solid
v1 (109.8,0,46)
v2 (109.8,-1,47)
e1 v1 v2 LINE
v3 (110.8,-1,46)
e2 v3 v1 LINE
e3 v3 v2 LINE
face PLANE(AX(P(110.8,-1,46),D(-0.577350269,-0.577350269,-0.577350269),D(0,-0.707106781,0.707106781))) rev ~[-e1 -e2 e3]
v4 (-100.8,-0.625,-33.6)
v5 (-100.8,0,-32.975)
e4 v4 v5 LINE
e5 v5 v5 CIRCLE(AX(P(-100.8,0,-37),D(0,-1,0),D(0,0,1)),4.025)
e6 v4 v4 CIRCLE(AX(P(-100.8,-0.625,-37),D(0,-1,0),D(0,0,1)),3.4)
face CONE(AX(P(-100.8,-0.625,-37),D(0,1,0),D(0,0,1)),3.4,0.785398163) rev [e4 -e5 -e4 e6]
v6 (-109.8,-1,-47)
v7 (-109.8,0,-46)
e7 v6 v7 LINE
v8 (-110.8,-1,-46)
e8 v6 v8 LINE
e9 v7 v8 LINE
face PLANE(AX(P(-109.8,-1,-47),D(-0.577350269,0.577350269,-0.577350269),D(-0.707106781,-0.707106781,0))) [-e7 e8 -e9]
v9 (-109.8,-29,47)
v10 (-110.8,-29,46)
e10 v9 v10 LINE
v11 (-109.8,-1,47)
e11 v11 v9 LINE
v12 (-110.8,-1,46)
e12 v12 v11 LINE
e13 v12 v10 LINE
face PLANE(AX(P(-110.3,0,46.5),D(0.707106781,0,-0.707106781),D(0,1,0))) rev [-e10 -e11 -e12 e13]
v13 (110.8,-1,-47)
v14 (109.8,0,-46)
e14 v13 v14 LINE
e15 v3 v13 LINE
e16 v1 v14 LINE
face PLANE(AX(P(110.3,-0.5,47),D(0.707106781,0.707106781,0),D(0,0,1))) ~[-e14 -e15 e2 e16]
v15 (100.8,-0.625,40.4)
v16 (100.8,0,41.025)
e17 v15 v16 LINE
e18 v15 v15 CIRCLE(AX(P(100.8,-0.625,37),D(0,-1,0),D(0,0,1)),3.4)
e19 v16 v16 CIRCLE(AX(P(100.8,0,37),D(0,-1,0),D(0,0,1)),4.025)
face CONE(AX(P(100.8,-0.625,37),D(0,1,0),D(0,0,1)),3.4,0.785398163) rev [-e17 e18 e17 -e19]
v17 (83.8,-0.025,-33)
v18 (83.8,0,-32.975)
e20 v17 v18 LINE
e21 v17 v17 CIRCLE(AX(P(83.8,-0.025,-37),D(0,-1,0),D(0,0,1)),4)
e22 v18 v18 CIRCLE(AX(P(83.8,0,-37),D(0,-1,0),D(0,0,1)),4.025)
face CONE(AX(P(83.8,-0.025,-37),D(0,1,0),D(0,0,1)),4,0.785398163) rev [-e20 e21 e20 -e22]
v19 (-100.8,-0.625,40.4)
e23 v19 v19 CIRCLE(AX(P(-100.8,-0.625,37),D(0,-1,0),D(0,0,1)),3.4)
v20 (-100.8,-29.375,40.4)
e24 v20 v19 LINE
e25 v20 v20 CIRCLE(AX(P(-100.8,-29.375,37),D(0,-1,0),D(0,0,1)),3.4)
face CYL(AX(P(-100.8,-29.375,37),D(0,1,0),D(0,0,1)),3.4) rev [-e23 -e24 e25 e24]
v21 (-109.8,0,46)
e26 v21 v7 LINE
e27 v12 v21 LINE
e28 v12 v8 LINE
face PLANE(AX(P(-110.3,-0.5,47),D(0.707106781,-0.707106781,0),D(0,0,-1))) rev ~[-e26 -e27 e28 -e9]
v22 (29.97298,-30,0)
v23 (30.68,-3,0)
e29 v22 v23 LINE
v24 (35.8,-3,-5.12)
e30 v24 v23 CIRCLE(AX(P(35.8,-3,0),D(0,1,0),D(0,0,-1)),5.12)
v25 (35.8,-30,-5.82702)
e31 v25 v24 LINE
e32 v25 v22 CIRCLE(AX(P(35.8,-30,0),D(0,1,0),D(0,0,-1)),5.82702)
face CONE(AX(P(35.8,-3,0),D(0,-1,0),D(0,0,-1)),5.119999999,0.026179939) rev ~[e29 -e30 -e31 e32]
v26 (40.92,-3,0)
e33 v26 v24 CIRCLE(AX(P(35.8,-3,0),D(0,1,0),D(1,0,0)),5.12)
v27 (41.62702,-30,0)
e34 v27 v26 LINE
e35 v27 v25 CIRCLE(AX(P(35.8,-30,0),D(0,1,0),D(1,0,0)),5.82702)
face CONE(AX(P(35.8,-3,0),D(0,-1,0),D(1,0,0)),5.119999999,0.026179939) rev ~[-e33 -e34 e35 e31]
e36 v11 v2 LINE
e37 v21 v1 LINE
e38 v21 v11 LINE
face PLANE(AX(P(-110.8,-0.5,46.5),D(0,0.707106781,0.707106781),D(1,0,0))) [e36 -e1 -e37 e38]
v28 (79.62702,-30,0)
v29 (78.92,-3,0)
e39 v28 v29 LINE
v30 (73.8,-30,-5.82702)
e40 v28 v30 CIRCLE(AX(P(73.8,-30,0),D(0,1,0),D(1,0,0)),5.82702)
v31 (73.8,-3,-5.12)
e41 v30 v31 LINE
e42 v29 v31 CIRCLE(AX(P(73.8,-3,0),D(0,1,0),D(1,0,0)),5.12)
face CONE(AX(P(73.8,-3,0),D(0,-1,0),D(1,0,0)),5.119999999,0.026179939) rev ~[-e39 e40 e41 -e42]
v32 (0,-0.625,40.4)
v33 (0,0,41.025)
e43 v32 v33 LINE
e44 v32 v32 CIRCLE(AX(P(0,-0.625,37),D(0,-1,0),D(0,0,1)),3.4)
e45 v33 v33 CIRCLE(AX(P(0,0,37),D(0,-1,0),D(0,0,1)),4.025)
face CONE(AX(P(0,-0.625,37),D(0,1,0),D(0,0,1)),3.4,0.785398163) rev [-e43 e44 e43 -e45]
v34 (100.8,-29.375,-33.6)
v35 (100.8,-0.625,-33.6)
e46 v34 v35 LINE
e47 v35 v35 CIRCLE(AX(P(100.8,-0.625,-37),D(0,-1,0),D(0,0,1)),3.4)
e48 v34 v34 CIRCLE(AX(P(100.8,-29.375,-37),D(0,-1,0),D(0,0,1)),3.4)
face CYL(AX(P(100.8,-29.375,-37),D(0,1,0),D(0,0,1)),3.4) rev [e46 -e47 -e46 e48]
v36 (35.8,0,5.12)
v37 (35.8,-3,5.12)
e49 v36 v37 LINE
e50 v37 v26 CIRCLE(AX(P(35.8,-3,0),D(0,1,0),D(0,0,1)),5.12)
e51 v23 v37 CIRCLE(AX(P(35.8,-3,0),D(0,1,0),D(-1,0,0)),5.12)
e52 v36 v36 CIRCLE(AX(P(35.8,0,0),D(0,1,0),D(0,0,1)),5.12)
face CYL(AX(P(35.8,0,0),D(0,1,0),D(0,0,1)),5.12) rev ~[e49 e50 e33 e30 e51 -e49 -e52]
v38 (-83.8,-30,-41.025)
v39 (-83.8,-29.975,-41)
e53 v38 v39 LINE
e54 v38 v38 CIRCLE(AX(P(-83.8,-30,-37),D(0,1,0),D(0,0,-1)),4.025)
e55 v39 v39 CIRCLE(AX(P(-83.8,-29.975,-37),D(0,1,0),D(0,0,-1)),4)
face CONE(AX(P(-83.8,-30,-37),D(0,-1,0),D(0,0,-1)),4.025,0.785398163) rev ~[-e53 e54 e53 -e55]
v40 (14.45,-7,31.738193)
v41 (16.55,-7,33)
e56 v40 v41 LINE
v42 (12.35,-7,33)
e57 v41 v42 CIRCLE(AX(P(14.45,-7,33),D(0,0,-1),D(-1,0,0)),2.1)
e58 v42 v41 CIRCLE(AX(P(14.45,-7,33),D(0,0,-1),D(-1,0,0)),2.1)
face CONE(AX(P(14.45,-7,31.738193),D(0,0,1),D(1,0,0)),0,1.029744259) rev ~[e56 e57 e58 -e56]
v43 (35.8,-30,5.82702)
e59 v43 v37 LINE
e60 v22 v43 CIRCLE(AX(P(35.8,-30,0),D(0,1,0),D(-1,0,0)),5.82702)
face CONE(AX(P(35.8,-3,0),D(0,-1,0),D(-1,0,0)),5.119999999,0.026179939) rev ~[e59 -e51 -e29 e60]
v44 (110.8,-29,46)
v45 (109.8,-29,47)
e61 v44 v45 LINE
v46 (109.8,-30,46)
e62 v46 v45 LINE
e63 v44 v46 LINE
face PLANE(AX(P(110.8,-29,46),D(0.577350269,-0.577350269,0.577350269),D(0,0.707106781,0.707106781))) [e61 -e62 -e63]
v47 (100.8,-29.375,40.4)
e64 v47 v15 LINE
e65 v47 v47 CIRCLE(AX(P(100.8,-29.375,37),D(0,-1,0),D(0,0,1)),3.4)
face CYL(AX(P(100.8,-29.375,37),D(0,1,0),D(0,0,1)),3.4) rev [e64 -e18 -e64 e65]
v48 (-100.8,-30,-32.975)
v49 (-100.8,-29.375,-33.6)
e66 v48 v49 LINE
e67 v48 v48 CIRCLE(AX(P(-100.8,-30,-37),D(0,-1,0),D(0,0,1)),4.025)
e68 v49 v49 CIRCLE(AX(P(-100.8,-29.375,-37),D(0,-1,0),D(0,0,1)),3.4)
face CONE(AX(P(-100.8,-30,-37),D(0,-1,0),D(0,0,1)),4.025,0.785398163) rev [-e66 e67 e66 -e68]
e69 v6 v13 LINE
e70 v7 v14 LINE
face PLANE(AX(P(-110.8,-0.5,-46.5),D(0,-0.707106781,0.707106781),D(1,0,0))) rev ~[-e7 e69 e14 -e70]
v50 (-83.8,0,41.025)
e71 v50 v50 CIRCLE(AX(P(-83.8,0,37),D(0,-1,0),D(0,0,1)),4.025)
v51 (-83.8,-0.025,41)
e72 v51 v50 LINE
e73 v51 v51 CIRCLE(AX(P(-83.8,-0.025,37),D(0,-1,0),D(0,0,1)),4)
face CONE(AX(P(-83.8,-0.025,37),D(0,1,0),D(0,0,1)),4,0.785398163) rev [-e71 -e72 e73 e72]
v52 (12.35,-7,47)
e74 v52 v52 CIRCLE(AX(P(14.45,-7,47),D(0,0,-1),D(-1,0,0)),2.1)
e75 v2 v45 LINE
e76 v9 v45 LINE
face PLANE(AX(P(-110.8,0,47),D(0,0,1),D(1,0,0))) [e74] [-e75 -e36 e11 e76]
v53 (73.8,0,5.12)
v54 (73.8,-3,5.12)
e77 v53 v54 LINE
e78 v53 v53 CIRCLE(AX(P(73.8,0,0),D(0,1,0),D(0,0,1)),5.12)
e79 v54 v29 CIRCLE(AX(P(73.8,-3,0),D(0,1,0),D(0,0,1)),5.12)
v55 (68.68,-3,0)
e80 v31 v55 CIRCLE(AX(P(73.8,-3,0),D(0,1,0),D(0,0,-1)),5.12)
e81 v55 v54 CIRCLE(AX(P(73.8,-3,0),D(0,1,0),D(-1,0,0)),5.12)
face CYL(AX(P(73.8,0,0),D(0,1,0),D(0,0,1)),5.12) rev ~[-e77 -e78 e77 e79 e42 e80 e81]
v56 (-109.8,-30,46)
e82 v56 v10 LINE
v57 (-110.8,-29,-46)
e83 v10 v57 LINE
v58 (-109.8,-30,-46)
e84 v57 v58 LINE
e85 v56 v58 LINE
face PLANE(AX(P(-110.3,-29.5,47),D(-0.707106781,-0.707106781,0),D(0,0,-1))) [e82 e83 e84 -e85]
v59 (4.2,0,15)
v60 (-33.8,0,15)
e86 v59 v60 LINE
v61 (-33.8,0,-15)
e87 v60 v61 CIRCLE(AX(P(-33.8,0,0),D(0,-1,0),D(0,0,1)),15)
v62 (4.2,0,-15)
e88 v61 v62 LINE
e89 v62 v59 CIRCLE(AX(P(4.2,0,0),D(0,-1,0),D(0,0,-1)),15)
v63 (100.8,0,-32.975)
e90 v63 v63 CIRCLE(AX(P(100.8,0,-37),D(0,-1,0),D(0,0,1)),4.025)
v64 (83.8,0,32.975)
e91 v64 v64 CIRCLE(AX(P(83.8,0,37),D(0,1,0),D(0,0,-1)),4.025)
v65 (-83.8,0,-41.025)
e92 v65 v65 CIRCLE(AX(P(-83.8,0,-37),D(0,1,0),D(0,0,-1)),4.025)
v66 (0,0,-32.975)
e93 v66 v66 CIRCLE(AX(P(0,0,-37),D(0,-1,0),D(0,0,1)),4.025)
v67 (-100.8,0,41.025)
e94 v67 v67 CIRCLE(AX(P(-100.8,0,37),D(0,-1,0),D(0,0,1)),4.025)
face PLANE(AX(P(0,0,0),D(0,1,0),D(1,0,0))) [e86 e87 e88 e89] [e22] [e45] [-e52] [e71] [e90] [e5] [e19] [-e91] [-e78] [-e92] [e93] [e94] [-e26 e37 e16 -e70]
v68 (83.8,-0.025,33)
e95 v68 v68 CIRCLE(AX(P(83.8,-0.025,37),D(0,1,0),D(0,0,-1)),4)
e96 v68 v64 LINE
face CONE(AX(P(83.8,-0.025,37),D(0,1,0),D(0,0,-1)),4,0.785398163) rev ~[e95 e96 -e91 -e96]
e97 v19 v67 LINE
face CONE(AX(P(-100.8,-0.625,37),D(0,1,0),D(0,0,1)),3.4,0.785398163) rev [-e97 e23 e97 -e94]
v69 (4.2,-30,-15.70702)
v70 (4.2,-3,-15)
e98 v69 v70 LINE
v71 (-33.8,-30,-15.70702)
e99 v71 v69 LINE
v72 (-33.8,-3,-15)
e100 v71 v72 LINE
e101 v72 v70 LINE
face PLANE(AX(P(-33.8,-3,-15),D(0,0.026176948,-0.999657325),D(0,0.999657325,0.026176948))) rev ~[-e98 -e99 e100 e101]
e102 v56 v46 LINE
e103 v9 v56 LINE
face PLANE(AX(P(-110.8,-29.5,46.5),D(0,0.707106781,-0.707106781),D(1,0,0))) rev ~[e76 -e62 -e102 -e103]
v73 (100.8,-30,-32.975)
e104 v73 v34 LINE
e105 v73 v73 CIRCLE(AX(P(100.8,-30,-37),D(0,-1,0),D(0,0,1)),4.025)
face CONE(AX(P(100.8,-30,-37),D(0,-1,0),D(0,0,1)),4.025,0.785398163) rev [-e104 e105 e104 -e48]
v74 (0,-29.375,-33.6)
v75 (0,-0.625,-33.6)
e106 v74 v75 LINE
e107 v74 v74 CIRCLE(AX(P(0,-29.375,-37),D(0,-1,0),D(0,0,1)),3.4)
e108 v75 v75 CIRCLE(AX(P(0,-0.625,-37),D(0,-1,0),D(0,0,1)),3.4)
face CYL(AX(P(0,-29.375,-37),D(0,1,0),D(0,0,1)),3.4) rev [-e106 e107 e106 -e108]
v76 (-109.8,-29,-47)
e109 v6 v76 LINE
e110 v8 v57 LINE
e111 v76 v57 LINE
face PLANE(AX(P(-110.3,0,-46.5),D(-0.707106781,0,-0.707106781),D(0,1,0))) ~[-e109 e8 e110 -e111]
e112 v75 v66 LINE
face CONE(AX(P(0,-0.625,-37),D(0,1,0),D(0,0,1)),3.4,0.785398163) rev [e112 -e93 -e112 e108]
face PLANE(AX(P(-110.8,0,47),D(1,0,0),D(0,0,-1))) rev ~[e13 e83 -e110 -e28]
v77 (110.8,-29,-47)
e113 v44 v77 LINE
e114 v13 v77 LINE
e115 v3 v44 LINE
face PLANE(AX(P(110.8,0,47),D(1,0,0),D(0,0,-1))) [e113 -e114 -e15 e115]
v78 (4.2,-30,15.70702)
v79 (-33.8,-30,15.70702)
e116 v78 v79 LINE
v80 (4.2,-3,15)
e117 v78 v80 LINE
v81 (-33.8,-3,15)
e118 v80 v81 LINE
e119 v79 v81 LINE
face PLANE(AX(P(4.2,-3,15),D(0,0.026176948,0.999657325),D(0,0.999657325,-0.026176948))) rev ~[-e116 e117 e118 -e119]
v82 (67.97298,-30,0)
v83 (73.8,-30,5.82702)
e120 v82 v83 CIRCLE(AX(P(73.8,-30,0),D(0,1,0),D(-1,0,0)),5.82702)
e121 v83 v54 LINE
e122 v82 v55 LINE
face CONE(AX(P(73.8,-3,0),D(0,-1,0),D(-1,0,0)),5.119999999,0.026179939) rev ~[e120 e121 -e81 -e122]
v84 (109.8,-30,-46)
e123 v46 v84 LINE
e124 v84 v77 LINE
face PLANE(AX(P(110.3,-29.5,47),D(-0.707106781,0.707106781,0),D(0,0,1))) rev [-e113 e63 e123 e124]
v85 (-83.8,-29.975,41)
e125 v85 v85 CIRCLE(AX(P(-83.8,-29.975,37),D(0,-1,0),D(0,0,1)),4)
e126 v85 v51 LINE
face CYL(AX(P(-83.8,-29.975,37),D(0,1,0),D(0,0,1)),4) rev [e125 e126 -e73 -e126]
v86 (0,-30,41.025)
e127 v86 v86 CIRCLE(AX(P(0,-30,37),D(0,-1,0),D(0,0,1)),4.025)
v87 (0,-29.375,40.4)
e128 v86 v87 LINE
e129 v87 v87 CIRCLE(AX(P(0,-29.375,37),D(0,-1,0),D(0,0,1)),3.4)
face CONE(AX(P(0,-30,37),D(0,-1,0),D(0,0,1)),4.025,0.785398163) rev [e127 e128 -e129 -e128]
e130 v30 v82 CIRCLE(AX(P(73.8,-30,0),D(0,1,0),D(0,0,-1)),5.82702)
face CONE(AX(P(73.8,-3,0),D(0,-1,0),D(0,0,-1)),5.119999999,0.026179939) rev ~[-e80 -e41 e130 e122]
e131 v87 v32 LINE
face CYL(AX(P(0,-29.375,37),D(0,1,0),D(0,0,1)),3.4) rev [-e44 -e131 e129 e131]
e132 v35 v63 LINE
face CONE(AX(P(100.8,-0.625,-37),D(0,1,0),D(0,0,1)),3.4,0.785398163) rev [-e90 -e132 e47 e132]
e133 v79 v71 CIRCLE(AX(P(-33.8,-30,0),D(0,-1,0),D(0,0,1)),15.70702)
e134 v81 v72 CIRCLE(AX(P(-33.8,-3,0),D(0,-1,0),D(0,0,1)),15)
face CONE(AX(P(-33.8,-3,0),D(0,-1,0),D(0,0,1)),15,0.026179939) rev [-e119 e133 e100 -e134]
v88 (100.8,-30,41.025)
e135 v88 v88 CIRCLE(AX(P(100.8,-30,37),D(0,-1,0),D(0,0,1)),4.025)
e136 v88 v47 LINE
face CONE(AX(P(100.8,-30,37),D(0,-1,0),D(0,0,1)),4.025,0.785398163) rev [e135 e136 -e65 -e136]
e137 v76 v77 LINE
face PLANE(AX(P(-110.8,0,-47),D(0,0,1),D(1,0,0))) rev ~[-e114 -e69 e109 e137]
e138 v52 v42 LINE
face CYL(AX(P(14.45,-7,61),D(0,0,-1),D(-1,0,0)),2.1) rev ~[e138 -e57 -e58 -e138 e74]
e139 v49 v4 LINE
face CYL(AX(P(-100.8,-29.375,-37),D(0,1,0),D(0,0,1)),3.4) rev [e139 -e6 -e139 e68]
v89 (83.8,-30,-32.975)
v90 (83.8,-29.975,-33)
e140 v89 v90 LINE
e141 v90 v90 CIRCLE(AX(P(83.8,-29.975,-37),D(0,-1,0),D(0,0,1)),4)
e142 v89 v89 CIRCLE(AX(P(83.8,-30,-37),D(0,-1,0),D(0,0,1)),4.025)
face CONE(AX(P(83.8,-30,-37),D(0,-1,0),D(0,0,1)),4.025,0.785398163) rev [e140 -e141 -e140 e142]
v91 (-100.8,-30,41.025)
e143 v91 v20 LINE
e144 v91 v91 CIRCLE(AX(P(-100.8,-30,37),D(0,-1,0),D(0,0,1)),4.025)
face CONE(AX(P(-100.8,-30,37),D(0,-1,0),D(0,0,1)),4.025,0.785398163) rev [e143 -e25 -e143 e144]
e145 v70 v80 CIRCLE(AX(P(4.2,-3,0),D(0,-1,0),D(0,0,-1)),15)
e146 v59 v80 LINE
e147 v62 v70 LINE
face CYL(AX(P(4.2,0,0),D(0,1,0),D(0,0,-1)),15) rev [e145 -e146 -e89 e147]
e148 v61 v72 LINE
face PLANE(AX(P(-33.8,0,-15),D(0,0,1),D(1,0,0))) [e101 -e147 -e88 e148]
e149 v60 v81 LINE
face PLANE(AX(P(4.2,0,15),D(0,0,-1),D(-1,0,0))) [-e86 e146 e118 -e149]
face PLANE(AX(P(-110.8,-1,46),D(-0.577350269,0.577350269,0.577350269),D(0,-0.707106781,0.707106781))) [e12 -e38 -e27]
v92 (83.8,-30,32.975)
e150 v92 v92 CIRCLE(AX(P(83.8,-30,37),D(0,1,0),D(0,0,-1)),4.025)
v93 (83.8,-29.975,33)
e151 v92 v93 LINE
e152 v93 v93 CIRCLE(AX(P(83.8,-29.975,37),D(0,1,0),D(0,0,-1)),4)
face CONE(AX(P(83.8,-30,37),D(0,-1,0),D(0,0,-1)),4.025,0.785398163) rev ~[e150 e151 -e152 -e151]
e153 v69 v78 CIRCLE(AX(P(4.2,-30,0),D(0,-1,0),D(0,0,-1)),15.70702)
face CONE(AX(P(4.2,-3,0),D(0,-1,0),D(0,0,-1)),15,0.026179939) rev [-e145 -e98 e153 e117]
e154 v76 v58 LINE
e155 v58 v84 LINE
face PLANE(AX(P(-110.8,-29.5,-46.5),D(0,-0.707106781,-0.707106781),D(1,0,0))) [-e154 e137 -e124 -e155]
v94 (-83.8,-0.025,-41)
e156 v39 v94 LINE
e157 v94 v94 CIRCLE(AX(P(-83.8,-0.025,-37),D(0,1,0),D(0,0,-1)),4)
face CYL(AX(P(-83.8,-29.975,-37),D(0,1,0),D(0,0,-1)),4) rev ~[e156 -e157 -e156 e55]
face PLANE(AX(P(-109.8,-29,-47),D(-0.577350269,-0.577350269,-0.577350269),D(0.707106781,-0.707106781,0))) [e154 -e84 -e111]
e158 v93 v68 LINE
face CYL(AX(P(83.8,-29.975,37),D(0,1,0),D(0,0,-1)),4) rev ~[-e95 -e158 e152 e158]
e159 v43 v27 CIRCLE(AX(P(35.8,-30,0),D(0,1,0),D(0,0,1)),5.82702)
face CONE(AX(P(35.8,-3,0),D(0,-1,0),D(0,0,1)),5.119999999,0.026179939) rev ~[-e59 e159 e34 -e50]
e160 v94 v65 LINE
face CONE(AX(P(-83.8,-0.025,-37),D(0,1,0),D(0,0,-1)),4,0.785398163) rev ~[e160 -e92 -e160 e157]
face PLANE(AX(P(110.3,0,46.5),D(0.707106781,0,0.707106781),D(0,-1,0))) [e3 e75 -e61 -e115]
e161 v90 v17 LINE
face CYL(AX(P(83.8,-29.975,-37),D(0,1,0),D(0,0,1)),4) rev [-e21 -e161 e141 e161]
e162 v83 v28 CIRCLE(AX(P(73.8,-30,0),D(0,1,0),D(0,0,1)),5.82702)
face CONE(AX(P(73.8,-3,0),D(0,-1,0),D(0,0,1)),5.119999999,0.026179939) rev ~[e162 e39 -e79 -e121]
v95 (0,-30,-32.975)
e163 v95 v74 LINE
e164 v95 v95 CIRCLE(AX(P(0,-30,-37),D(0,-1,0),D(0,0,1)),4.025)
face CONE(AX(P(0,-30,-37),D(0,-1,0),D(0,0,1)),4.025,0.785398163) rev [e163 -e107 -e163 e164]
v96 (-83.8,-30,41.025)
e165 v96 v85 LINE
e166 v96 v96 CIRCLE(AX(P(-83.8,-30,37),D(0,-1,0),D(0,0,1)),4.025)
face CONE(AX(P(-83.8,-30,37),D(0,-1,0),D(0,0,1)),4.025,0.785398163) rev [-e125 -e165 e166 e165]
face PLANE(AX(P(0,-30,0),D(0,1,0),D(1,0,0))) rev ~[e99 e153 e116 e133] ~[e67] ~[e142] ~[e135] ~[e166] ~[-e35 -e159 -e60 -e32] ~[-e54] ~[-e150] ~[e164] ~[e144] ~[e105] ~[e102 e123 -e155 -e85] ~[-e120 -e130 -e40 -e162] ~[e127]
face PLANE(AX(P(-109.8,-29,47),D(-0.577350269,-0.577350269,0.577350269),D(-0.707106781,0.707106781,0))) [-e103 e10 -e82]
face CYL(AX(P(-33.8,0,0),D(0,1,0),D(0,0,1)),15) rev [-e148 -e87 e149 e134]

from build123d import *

# Parameters (mm, degrees)
SKETCH1_W                      = 221.6
SKETCH1_H                      = 94
BOSS_EXTRUDE1_DEPTH            = 30
SKETCH2_R                      = 5.12
CUT_EXTRUDE1_DEPTH             = 125.038864877
CHAMFER1_SIZE                  = 1
M5_TAPPED_HOLE1_D              = 4.2
M5_TAPPED_HOLE1_DEPTH          = 14
M5_TAPPED_HOLE1_TIP            = 1.2618073
M8_TAPPED_HOLE1_AT_2_COUNT     = 2
M8_TAPPED_HOLE1_AT_2_PITCH     = 74
M8_TAPPED_HOLE1_AT_3_COUNT     = 2
M8_TAPPED_HOLE1_AT_3_PITCH     = 214.752322455
M8_TAPPED_HOLE1_AT_4_COUNT     = 2
M8_TAPPED_HOLE1_AT_4_PITCH     = 201.6
M8_TAPPED_HOLE1_AT_5_COUNT     = 2
M8_TAPPED_HOLE1_AT_5_PITCH     = 100.8
M8_TAPPED_HOLE1_AT_6_COUNT     = 2
M8_TAPPED_HOLE1_AT_6_PITCH     = 125.046551332
F_8_0MM_DOWEL_HOLE1_AT_2_COUNT = 2
F_8_0MM_DOWEL_HOLE1_AT_2_PITCH = 183.209606735


with BuildPart() as part:
    # Sketch1 → Boss-Extrude1 (new body)
    with BuildSketch(Plane(origin=(0, 0, 0), x_dir=(1, 0, 0), z_dir=(0, 1, 0))):
        Rectangle(SKETCH1_W, SKETCH1_H)
    extrude(amount=-BOSS_EXTRUDE1_DEPTH)

    # Sketch2 → Cut-Extrude1 (cut, through all)
    with BuildSketch(Plane(origin=(0, 0, 0), x_dir=(1, 0, 0), z_dir=(0, 1, 0))):
        with Locations(Location((35.8, 0, 0), (0, 0, 270))):
            Circle(SKETCH2_R)
        with Locations(Location((73.8, 0, 0), (0, 0, 270))):
            Circle(SKETCH2_R)
        with BuildLine():
            Line((-33.8, 15), (4.2, 15))
            ThreePointArc((4.2, 15), (19.2, 0), (4.2, -15))
            Line((4.2, -15), (-33.8, -15))
            ThreePointArc((-33.8, -15), (-48.8, 0), (-33.8, 15))
        make_face()
    extrude(amount=-CUT_EXTRUDE1_DEPTH, mode=Mode.SUBTRACT)

    # Cut-Sweep1: sweep along a curve in space
    with BuildLine() as cut_sweep1_path:
        ThreePointArc((-33.8, 0, 15), (-48.8, 0, 0), (-33.8, 0, -15))
        Line((-33.8, 0, -15), (4.2, 0, -15))
        ThreePointArc((4.2, 0, -15), (19.2, 0, 0), (4.2, 0, 15))
        Line((4.2, 0, 15), (-33.8, 0, 15))
    # Sketch3 → Cut-Sweep1 (sweep, cut)
    with BuildSketch(Plane(origin=(-14.8, 0, 0), x_dir=(0, 0, -1), z_dir=(1, 0, 0))):
        Polygon((15, -3), (15.707019882, -30), (15, -30), align=None)
    sweep(path=cut_sweep1_path.line, mode=Mode.SUBTRACT)

    # Cut-Sweep2: sweep along a curve in space
    with BuildLine() as cut_sweep2_path:
        ThreePointArc((35.8, 0, 5.12), (39.42038672, 0, 3.62038672), (40.92, 0, 0))
        ThreePointArc((40.92, 0, 0), (39.42038672, 0, -3.62038672), (35.8, 0, -5.12))
        ThreePointArc((35.8, 0, -5.12), (32.17961328, 0, -3.62038672), (30.68, 0, 0))
        ThreePointArc((30.68, 0, 0), (32.17961328, 0, 3.62038672), (35.8, 0, 5.12))
    # Sketch5 → Cut-Sweep2 (sweep, cut)
    with BuildSketch(Plane.XY):
        Polygon((40.92, -3), (41.627019882, -30), (40.92, -30), align=None)
    sweep(path=cut_sweep2_path.line, mode=Mode.SUBTRACT)

    # Cut-Sweep3: sweep along a curve in space
    with BuildLine() as cut_sweep3_path:
        ThreePointArc((73.8, 0, 5.12), (77.42038672, 0, 3.62038672), (78.92, 0, 0))
        ThreePointArc((78.92, 0, 0), (77.42038672, 0, -3.62038672), (73.8, 0, -5.12))
        ThreePointArc((73.8, 0, -5.12), (70.17961328, 0, -3.62038672), (68.68, 0, 0))
        ThreePointArc((68.68, 0, 0), (70.17961328, 0, 3.62038672), (73.8, 0, 5.12))
    # Sketch9 → Cut-Sweep3 (sweep, cut)
    with BuildSketch(Plane.XY):
        Polygon((78.92, -3), (79.627019882, -30), (78.92, -30), align=None)
    sweep(path=cut_sweep3_path.line, mode=Mode.SUBTRACT)

    # Chamfer1
    chamfer1_edges = [part.edges().sort_by_distance(p)[0] for p in [
        (-110.8, -30, 0),
        (0, -30, 47),
        (110.8, -30, 0),
        (0, 0, 47),
        (-110.8, 0, 0),
        (0, 0, -47),
        (110.8, 0, 0),
        (110.8, -15, 47),
        (-110.8, -15, 47),
        (-110.8, -15, -47),
        (0, -30, -47),
    ]]
    chamfer(chamfer1_edges, length=CHAMFER1_SIZE)

    # M5 Tapped Hole1
    with Locations(Plane.XY.offset(47)):
        with Locations((14.45, -7)):
            Hole(M5_TAPPED_HOLE1_D / 2, depth=M5_TAPPED_HOLE1_DEPTH)
            with Locations((0, 0, -(M5_TAPPED_HOLE1_DEPTH + M5_TAPPED_HOLE1_TIP / 2))):  # 118° drill point
                Cone(0, M5_TAPPED_HOLE1_D / 2, M5_TAPPED_HOLE1_TIP, mode=Mode.SUBTRACT)

    # Sketch15 → M8 Tapped Hole1 (revolve, cut)
    with BuildSketch(Plane(origin=(-100.8, 0, 37), x_dir=(0, 0, 1), z_dir=(1, 0, 0))):
        Polygon((0, 0), (0, 30), (4.025, 30), (3.4, 29.375), (3.4, 0.625), (4.025, 0), align=None)
    m8_tapped_hole1 = revolve(axis=Axis((-100.8, 6.35, 37), (0, -1, 0)), mode=Mode.SUBTRACT)

    # M8 Tapped Hole1 at 2: M8 Tapped Hole1 ×2
    with Locations(*[(0, 0, -i * M8_TAPPED_HOLE1_AT_2_PITCH) for i in range(1, M8_TAPPED_HOLE1_AT_2_COUNT)]):
        add(m8_tapped_hole1, mode=Mode.SUBTRACT)

    # M8 Tapped Hole1 at 3: M8 Tapped Hole1 ×2
    with Locations(*[Vector(0.9387558546280332, 0, -0.34458300219481375) * (i * M8_TAPPED_HOLE1_AT_3_PITCH) for i in range(1, M8_TAPPED_HOLE1_AT_3_COUNT)]):
        add(m8_tapped_hole1, mode=Mode.SUBTRACT)

    # M8 Tapped Hole1 at 4: M8 Tapped Hole1 ×2
    with Locations(*[(i * M8_TAPPED_HOLE1_AT_4_PITCH, 0, 0) for i in range(1, M8_TAPPED_HOLE1_AT_4_COUNT)]):
        add(m8_tapped_hole1, mode=Mode.SUBTRACT)

    # M8 Tapped Hole1 at 5: M8 Tapped Hole1 ×2
    with Locations(*[(i * M8_TAPPED_HOLE1_AT_5_PITCH, 0, 0) for i in range(1, M8_TAPPED_HOLE1_AT_5_COUNT)]):
        add(m8_tapped_hole1, mode=Mode.SUBTRACT)

    # M8 Tapped Hole1 at 6: M8 Tapped Hole1 ×2
    with Locations(*[Vector(0.8060997998454218, 0, -0.591779614965885) * (i * M8_TAPPED_HOLE1_AT_6_PITCH) for i in range(1, M8_TAPPED_HOLE1_AT_6_COUNT)]):
        add(m8_tapped_hole1, mode=Mode.SUBTRACT)

    # Sketch17 → Ø8.0mm Dowel Hole1 (revolve, cut)
    with BuildSketch(Plane(origin=(-83.8, 0, 37), x_dir=(0, 0, 1), z_dir=(1, 0, 0))):
        Polygon((0, 0), (0, 30), (4.025, 30), (4, 29.975), (4, 0.025), (4.025, 0), align=None)
    f_8_0mm_dowel_hole1 = revolve(axis=Axis((-83.8, 6.35, 37), (0, -1, 0)), mode=Mode.SUBTRACT)

    # Ø8.0mm Dowel Hole1 at 2: Ø8.0mm Dowel Hole1 ×2
    with Locations(*[Vector(0.9147991908656035, 0, -0.40390895062085114) * (i * F_8_0MM_DOWEL_HOLE1_AT_2_PITCH) for i in range(1, F_8_0MM_DOWEL_HOLE1_AT_2_COUNT)]):
        add(f_8_0mm_dowel_hole1, mode=Mode.SUBTRACT)

    # Mirror1: Ø8.0mm Dowel Hole1 across plane
    add(f_8_0mm_dowel_hole1.mirror(Plane.XY), mode=Mode.SUBTRACT)

    # Mirror1 copy 1 sketch → Mirror1 copy 1 (revolve, cut)
    with BuildSketch(Plane(origin=(83.8, 0, 37), x_dir=(0, 0, -1), z_dir=(1, 0, 0))):
        Polygon((0, 0), (0, -30), (4.025, -30), (4, -29.975), (4, -0.025), (4.025, 0), align=None)
    revolve(axis=Axis((83.8, 6.35, 37), (0, 1, 0)), mode=Mode.SUBTRACT)


solid = part.part
